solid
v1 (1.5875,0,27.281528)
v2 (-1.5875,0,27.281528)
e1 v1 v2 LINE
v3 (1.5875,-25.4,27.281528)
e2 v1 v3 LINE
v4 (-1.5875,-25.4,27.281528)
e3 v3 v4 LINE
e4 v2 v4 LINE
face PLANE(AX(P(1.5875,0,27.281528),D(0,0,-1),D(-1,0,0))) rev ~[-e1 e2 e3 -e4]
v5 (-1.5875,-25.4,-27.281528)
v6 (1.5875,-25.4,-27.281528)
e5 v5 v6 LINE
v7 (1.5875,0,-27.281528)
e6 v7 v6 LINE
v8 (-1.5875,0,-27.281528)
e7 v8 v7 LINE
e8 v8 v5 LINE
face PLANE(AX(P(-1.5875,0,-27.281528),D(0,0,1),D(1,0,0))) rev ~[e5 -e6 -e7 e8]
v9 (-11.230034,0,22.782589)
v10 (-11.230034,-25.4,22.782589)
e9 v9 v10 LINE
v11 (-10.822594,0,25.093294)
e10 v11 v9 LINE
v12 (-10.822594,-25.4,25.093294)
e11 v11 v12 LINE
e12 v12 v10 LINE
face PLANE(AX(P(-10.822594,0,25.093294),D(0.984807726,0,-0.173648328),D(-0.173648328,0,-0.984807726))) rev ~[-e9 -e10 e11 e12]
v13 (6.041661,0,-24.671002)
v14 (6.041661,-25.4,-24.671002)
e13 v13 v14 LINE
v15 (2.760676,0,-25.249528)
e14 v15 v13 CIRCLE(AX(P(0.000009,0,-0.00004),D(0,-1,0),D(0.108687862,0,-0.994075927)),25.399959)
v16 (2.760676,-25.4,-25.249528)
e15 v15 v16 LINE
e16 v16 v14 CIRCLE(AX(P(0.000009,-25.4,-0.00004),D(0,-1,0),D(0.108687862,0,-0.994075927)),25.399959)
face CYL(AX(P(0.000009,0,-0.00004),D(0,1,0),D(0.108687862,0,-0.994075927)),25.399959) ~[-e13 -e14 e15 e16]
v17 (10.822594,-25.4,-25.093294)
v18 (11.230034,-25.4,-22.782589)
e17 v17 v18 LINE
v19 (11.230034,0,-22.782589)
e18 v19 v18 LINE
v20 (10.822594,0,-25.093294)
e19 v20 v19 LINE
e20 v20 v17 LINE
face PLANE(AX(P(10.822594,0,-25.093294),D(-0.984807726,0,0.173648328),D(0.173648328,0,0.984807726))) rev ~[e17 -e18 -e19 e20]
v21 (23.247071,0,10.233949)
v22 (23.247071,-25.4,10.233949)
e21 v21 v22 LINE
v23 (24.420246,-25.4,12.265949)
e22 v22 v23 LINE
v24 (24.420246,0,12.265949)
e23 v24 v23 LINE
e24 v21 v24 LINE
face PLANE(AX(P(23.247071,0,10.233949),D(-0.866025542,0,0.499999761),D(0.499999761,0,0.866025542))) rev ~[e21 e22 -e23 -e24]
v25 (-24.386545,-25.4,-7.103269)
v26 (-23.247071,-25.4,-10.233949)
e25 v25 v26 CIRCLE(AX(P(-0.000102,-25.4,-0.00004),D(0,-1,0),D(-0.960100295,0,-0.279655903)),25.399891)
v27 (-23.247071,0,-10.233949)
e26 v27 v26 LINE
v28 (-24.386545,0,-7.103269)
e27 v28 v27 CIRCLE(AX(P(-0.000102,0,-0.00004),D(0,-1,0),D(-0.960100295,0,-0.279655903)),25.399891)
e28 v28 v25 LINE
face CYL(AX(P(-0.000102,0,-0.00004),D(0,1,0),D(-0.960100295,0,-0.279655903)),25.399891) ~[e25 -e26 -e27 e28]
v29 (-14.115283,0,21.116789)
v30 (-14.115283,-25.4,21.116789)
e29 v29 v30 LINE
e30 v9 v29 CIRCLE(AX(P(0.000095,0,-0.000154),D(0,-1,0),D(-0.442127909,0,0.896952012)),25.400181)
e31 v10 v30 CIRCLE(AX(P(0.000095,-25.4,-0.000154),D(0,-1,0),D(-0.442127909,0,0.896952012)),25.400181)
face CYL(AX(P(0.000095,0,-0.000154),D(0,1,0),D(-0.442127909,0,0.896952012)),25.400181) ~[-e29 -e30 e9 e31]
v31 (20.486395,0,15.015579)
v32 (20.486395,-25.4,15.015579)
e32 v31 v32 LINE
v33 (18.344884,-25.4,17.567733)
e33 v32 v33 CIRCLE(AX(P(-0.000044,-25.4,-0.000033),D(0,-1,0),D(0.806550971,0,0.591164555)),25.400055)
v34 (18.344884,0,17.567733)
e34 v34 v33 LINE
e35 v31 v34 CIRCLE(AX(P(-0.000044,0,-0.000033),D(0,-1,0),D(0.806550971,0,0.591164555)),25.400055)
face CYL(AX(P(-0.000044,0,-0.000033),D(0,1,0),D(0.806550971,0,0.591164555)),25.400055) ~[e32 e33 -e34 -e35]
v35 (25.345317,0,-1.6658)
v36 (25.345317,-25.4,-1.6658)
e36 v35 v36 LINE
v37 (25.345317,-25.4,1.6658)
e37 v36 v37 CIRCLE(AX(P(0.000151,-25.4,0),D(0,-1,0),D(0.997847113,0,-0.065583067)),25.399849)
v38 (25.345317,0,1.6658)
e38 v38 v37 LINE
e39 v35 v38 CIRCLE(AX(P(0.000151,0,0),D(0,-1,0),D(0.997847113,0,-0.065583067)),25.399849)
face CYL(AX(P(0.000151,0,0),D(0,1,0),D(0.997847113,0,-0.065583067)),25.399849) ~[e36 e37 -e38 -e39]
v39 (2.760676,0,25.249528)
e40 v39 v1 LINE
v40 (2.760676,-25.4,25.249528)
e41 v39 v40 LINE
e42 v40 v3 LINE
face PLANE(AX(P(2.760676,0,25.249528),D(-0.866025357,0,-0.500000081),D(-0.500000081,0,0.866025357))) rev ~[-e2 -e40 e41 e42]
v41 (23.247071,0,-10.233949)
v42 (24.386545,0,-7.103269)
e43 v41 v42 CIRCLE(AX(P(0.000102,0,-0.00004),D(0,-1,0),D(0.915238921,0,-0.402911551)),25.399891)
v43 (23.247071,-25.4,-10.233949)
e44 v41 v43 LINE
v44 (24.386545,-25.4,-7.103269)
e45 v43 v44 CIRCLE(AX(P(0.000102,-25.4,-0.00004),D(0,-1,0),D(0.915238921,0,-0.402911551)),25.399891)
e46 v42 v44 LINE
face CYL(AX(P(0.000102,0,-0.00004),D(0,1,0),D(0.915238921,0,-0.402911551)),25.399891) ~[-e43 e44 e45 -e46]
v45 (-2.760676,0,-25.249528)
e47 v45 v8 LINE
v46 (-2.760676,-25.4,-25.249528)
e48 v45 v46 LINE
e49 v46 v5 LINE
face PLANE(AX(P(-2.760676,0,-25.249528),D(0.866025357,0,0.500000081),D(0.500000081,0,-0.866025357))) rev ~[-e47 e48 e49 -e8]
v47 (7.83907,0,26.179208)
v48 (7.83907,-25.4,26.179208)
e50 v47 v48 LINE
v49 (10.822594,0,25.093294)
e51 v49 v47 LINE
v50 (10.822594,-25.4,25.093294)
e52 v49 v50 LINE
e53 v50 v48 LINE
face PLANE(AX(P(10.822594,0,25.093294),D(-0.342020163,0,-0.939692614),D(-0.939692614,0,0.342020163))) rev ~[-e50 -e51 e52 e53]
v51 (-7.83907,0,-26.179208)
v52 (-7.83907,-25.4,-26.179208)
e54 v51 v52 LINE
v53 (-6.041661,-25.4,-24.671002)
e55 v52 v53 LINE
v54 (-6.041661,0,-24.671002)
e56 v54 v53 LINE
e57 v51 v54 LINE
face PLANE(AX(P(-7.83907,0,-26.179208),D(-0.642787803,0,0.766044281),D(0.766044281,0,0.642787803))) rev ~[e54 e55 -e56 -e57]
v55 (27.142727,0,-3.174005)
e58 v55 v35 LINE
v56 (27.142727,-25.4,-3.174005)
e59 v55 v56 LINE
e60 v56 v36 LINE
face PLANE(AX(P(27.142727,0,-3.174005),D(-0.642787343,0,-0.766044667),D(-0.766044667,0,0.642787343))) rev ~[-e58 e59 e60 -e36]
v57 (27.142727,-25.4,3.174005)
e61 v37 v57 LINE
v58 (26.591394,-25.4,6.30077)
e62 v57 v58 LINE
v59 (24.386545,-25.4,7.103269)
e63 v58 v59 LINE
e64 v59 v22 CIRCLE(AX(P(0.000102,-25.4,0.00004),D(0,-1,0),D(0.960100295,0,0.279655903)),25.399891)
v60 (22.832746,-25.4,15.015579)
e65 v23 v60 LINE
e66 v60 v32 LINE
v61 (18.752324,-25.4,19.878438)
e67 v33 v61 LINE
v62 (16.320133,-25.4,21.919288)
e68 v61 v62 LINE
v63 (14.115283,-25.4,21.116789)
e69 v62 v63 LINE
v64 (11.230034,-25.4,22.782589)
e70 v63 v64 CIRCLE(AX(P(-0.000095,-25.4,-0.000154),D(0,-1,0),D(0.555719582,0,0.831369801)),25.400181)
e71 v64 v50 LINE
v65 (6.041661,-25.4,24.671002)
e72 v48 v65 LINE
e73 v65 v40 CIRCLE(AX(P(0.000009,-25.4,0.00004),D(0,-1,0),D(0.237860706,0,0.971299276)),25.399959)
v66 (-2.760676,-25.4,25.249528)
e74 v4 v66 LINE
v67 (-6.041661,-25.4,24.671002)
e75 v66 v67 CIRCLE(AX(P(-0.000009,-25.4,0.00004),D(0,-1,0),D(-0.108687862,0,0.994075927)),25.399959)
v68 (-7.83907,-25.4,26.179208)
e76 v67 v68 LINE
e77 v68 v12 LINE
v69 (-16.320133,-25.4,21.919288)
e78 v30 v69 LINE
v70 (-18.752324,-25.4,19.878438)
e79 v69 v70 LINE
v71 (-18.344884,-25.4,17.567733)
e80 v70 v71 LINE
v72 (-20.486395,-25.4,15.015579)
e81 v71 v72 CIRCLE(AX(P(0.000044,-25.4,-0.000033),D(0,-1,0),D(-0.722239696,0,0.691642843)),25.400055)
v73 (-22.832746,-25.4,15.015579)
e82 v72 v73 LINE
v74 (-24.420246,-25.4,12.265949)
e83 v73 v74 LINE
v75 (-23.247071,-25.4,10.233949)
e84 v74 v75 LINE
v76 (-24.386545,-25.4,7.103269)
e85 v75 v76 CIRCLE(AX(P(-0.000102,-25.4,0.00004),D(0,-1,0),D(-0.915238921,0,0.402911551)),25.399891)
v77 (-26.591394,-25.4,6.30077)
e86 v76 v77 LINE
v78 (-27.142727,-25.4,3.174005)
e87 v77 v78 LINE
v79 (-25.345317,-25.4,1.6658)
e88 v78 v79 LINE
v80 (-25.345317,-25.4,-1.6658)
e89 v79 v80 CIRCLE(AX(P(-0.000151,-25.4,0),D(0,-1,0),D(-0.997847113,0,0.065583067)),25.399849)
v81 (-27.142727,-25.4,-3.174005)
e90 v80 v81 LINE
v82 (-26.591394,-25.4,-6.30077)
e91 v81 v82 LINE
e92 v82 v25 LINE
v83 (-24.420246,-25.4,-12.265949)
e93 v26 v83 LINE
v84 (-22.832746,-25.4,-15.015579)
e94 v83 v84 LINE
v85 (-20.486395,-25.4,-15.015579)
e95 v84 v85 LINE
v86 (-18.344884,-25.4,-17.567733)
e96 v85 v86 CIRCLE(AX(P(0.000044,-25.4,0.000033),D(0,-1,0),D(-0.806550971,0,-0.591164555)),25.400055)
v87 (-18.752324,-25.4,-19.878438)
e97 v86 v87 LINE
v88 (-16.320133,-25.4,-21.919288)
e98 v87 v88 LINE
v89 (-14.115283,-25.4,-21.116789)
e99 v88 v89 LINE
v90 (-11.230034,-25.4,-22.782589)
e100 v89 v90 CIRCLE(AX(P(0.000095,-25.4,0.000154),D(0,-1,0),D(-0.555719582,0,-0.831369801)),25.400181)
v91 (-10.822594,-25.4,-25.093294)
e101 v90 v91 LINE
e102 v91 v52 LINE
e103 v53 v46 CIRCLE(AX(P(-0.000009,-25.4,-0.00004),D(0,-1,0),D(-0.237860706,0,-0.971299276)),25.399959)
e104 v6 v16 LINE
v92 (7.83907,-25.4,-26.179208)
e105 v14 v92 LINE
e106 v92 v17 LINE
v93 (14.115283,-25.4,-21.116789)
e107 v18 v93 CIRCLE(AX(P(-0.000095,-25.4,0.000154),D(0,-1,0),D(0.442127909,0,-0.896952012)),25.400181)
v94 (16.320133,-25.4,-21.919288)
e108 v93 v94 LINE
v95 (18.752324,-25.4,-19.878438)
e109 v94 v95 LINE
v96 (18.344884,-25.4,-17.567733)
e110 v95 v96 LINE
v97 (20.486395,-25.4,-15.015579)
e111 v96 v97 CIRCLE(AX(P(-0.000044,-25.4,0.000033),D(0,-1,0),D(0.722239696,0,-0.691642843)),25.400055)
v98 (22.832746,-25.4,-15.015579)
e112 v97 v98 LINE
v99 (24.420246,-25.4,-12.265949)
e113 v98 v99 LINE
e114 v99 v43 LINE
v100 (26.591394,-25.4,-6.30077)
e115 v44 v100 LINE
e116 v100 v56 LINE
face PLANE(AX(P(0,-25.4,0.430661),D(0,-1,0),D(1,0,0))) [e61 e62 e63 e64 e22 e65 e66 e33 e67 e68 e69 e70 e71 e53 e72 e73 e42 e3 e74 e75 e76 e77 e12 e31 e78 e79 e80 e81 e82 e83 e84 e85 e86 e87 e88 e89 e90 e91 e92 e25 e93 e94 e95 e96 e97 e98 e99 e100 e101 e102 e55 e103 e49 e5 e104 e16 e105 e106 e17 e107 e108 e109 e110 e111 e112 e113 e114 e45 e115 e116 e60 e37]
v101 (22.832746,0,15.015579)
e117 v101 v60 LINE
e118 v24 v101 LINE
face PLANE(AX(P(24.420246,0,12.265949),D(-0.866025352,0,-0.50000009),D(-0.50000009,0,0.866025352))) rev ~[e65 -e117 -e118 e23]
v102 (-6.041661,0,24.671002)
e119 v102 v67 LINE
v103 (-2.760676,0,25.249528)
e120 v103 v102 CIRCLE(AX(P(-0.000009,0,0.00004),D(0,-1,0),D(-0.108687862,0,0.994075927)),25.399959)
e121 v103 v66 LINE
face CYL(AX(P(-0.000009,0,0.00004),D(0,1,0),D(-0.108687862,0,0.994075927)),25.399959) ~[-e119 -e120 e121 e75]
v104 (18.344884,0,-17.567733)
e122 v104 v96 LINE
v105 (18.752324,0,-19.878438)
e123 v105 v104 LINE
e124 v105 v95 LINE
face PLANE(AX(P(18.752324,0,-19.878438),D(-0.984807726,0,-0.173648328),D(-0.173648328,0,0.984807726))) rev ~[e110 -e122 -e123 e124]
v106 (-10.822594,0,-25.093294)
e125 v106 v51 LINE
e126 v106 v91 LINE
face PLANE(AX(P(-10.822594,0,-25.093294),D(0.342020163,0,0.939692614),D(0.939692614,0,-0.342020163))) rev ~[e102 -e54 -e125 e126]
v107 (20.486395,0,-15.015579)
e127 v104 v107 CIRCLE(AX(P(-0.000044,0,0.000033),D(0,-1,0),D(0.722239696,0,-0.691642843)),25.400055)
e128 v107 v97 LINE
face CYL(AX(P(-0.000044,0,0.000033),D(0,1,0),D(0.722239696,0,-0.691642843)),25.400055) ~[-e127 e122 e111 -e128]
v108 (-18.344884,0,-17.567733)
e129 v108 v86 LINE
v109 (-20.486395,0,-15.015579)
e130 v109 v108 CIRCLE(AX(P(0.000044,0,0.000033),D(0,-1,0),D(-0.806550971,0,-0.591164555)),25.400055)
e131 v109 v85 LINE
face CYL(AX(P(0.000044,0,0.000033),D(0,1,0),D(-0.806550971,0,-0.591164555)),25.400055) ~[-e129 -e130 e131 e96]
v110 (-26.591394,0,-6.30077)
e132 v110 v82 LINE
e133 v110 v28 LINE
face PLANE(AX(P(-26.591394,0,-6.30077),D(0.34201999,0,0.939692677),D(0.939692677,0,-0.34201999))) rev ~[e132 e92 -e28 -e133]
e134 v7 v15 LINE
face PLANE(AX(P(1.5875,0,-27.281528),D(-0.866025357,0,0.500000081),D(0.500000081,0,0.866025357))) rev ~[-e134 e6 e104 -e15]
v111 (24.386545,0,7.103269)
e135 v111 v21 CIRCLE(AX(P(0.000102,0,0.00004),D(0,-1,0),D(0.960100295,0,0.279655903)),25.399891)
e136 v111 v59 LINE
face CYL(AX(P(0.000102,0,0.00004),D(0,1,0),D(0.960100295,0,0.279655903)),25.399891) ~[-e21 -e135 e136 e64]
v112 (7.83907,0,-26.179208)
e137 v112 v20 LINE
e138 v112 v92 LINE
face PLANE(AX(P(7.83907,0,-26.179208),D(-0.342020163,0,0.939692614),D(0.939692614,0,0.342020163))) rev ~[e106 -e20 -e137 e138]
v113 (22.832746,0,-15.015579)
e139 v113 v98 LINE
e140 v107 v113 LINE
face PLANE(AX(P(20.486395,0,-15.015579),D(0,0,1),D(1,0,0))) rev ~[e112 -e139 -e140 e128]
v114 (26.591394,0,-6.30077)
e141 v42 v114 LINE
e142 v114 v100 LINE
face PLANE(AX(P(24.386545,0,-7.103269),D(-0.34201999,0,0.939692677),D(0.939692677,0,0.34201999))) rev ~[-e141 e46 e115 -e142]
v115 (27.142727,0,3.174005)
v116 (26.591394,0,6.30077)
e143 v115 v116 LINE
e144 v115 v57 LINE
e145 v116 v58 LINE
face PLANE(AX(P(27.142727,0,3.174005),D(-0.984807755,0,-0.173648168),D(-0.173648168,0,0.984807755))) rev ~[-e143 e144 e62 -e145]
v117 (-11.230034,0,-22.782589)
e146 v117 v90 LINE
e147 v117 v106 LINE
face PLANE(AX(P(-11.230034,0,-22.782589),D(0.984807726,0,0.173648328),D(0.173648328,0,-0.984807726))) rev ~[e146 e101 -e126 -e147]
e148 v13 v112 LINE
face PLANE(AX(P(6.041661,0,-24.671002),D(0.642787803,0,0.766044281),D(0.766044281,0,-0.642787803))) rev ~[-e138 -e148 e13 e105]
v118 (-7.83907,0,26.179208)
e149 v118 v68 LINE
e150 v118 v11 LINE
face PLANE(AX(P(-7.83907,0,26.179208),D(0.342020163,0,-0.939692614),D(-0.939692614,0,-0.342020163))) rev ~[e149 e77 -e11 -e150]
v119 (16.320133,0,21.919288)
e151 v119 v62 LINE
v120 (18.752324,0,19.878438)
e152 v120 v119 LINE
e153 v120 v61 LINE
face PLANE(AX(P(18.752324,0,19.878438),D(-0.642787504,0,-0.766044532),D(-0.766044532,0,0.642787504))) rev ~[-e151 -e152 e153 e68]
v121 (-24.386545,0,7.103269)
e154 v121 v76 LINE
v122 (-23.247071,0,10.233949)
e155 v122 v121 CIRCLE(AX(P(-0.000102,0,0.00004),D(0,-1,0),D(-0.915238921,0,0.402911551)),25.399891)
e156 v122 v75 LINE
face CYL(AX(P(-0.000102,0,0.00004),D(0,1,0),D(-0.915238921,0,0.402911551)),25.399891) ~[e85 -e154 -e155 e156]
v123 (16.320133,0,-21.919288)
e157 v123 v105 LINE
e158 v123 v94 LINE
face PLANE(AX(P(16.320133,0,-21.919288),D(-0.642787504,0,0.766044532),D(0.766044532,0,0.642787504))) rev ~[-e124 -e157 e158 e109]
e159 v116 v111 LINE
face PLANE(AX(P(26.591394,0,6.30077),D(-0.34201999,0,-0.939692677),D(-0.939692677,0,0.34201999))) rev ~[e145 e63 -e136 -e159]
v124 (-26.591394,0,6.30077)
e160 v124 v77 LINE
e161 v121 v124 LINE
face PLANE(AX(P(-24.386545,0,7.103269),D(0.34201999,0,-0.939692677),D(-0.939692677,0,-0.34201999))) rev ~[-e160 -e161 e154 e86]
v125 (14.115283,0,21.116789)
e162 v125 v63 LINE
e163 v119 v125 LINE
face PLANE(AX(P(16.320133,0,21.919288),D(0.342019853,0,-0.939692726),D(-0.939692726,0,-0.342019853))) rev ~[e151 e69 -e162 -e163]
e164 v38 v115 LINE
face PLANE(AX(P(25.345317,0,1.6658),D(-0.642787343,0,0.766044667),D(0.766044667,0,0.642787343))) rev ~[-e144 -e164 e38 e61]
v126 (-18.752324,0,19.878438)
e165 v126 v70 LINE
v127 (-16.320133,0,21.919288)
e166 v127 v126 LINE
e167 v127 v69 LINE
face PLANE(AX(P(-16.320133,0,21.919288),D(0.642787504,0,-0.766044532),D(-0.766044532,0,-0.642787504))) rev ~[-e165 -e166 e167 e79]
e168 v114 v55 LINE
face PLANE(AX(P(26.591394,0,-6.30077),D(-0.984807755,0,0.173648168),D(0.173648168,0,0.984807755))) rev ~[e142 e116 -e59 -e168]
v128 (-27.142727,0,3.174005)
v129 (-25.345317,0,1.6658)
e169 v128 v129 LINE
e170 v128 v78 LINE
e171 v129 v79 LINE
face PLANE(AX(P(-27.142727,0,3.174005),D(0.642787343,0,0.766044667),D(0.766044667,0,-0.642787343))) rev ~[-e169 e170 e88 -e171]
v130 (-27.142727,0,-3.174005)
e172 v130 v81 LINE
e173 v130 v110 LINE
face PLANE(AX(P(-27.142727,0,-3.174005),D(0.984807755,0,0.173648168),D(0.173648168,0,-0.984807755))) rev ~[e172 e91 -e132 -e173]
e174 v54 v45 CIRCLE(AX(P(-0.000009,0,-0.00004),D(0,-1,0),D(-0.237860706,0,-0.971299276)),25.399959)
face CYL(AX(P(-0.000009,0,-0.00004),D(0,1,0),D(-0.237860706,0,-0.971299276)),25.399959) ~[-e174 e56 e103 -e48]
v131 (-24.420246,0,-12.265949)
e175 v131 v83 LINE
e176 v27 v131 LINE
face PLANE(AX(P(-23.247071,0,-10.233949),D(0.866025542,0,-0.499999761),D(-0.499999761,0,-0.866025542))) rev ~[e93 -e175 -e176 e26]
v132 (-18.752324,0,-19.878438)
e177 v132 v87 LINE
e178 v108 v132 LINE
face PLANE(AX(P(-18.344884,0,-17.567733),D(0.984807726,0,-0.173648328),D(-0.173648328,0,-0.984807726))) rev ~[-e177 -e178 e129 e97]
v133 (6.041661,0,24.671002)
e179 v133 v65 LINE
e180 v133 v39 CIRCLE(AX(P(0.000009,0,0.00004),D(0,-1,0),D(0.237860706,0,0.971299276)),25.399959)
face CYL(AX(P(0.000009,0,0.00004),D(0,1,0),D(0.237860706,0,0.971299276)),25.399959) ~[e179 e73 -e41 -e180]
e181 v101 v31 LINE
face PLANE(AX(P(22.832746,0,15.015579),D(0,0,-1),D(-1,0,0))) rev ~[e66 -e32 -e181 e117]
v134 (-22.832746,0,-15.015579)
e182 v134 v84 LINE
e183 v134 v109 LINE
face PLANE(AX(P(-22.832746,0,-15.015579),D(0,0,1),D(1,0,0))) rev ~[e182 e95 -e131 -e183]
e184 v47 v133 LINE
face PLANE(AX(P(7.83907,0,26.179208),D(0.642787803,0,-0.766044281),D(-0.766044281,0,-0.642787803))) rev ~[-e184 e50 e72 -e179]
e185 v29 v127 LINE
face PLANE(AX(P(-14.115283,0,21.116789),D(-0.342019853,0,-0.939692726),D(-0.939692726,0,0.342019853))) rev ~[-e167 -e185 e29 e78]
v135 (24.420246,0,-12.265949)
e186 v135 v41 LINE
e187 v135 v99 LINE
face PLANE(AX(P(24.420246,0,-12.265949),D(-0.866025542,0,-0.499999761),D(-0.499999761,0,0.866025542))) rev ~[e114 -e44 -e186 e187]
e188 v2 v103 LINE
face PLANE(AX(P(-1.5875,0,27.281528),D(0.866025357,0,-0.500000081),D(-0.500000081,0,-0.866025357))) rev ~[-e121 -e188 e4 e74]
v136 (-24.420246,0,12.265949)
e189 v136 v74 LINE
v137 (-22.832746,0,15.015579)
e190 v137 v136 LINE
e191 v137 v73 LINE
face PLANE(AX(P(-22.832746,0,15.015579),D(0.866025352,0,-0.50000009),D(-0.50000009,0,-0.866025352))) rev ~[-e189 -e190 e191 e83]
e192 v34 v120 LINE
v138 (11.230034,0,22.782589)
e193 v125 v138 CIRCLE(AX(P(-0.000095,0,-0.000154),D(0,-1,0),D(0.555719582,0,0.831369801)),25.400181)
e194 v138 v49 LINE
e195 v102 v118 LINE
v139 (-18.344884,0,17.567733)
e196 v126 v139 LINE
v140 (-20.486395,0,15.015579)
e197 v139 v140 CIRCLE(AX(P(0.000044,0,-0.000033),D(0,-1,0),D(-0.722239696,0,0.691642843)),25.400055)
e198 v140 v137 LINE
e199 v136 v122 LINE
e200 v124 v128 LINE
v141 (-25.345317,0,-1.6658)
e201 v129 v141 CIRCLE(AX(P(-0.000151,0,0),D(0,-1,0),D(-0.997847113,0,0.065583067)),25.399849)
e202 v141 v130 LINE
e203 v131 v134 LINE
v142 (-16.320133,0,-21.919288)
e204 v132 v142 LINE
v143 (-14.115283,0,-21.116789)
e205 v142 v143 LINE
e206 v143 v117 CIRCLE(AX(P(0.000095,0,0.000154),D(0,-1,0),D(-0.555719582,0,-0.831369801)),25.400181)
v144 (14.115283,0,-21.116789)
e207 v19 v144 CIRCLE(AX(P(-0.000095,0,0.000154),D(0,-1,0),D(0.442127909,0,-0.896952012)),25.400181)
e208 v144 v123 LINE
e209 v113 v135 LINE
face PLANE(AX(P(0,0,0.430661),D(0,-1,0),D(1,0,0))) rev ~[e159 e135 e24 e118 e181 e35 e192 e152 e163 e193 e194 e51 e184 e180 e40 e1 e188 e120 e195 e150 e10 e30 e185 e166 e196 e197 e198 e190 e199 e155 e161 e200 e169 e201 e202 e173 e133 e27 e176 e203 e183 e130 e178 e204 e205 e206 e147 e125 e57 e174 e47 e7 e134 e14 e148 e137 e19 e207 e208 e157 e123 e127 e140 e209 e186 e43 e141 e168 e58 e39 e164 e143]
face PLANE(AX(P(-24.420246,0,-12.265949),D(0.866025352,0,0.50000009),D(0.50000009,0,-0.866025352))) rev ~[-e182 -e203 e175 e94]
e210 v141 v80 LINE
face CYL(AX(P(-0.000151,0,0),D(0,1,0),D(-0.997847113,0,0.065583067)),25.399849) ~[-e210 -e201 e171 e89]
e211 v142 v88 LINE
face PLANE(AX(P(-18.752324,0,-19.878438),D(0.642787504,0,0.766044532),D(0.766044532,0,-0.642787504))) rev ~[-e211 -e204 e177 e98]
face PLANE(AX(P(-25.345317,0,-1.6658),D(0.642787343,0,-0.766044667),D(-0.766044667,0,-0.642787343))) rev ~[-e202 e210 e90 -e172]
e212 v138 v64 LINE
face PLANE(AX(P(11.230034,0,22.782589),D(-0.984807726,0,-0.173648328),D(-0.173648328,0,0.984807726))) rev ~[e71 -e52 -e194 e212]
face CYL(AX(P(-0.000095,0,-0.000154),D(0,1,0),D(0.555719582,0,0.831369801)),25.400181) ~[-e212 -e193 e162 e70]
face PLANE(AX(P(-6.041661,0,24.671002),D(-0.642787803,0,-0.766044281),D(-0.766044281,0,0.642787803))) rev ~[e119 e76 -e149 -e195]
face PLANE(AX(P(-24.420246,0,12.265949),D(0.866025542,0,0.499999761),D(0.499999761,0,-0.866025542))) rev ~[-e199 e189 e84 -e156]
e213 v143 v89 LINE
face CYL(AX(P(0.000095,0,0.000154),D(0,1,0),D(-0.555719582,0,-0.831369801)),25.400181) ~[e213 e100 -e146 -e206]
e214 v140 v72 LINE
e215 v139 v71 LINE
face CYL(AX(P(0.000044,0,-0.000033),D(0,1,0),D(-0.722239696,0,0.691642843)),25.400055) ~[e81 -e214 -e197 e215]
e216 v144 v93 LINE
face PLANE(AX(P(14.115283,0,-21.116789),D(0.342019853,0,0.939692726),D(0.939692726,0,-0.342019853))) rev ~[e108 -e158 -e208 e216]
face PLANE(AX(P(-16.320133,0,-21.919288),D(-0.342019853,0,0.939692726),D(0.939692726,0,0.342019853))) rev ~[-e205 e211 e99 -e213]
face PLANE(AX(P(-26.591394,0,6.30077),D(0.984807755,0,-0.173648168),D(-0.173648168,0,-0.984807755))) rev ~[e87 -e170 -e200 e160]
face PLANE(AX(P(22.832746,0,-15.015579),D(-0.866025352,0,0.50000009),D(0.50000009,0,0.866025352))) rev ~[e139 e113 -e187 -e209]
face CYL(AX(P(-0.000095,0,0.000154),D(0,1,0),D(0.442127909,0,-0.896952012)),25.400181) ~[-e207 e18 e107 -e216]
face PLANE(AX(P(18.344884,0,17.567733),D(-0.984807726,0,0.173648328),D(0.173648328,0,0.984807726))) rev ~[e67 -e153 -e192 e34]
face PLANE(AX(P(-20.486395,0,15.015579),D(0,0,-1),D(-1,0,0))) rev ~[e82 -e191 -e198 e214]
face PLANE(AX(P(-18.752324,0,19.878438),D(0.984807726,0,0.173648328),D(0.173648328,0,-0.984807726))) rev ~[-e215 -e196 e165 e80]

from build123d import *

# Parameters (mm, degrees)
F1_DEPTH = 25.4


with BuildPart() as f1:
    # F0 (on Front) → F1 (new body)
    with BuildSketch(Plane.XZ):
        with BuildLine():
            Line((-1.5875, 27.281528), (-2.760676, 25.249528))
            ThreePointArc((-2.760676, 25.249528), (-4.410664, 25.014117), (-6.041661, 24.671002))
            ThreePointArc((-6.041661, 24.671002), (-8.687312, 23.868193), (-11.230034, 22.782589))
            ThreePointArc((-11.230034, 22.782589), (-12.7, 21.997045), (-14.115283, 21.116789))
            ThreePointArc((-14.115283, 21.116789), (-16.326805, 19.457529), (-18.344884, 17.567733))
            ThreePointArc((-18.344884, 17.567733), (-19.457529, 16.326805), (-20.486395, 15.015579))
            ThreePointArc((-20.486395, 15.015579), (-21.997045, 12.7), (-23.247071, 10.233949))
            ThreePointArc((-23.247071, 10.233949), (-23.868193, 8.687312), (-24.386545, 7.103269))
            ThreePointArc((-24.386545, 7.103269), (-25.014117, 4.410664), (-25.345317, 1.6658))
            ThreePointArc((-25.345317, 1.6658), (-25.4, 0), (-25.345317, -1.6658))
            ThreePointArc((-25.345317, -1.6658), (-25.014117, -4.410664), (-24.386545, -7.103269))
            ThreePointArc((-24.386545, -7.103269), (-23.868193, -8.687312), (-23.247071, -10.233949))
            ThreePointArc((-23.247071, -10.233949), (-21.997045, -12.7), (-20.486395, -15.015579))
            ThreePointArc((-20.486395, -15.015579), (-19.457529, -16.326805), (-18.344884, -17.567733))
            ThreePointArc((-18.344884, -17.567733), (-16.326805, -19.457529), (-14.115283, -21.116789))
            ThreePointArc((-14.115283, -21.116789), (-12.7, -21.997045), (-11.230034, -22.782589))
            ThreePointArc((-11.230034, -22.782589), (-8.687312, -23.868193), (-6.041661, -24.671002))
            ThreePointArc((-6.041661, -24.671002), (-4.410664, -25.014117), (-2.760676, -25.249528))
            ThreePointArc((-2.760676, -25.249528), (0, -25.4), (2.760676, -25.249528))
            ThreePointArc((2.760676, -25.249528), (4.410664, -25.014117), (6.041661, -24.671002))
            ThreePointArc((6.041661, -24.671002), (8.687312, -23.868193), (11.230034, -22.782589))
            ThreePointArc((11.230034, -22.782589), (12.7, -21.997045), (14.115283, -21.116789))
            ThreePointArc((14.115283, -21.116789), (16.326805, -19.457529), (18.344884, -17.567733))
            ThreePointArc((18.344884, -17.567733), (19.457529, -16.326805), (20.486395, -15.015579))
            ThreePointArc((20.486395, -15.015579), (21.997045, -12.7), (23.247071, -10.233949))
            ThreePointArc((23.247071, -10.233949), (23.868193, -8.687312), (24.386545, -7.103269))
            ThreePointArc((24.386545, -7.103269), (25.014117, -4.410664), (25.345317, -1.6658))
            ThreePointArc((25.345317, -1.6658), (25.4, 0), (25.345317, 1.6658))
            ThreePointArc((25.345317, 1.6658), (25.014117, 4.410664), (24.386545, 7.103269))
            ThreePointArc((24.386545, 7.103269), (23.868193, 8.687312), (23.247071, 10.233949))
            ThreePointArc((23.247071, 10.233949), (21.997045, 12.7), (20.486395, 15.015579))
            ThreePointArc((20.486395, 15.015579), (19.457529, 16.326805), (18.344884, 17.567733))
            ThreePointArc((18.344884, 17.567733), (16.326805, 19.457529), (14.115283, 21.116789))
            ThreePointArc((14.115283, 21.116789), (12.7, 21.997045), (11.230034, 22.782589))
            ThreePointArc((11.230034, 22.782589), (8.687312, 23.868193), (6.041661, 24.671002))
            ThreePointArc((6.041661, 24.671002), (4.410664, 25.014117), (2.760676, 25.249528))
            Line((2.760676, 25.249528), (1.5875, 27.281528))
            Line((1.5875, 27.281528), (-1.5875, 27.281528))
        make_face()
        with BuildLine():
            ThreePointArc((-11.230034, 22.782589), (-8.687312, 23.868193), (-6.041661, 24.671002))
            Line((-6.041661, 24.671002), (-7.83907, 26.179208))
            Line((-7.83907, 26.179208), (-10.822594, 25.093294))
            Line((-10.822594, 25.093294), (-11.230034, 22.782589))
        make_face()
        with BuildLine():
            ThreePointArc((-18.344884, 17.567733), (-16.326805, 19.457529), (-14.115283, 21.116789))
            Line((-14.115283, 21.116789), (-16.320133, 21.919288))
            Line((-16.320133, 21.919288), (-18.752324, 19.878438))
            Line((-18.752324, 19.878438), (-18.344884, 17.567733))
        make_face()
        with BuildLine():
            Line((7.83907, 26.179208), (6.041661, 24.671002))
            ThreePointArc((6.041661, 24.671002), (8.687312, 23.868193), (11.230034, 22.782589))
            Line((11.230034, 22.782589), (10.822594, 25.093294))
            Line((10.822594, 25.093294), (7.83907, 26.179208))
        make_face()
        with BuildLine():
            ThreePointArc((-23.247071, 10.233949), (-21.997045, 12.7), (-20.486395, 15.015579))
            Line((-20.486395, 15.015579), (-22.832746, 15.015579))
            Line((-22.832746, 15.015579), (-24.420246, 12.265949))
            Line((-24.420246, 12.265949), (-23.247071, 10.233949))
        make_face()
        with BuildLine():
            Line((16.320133, 21.919288), (14.115283, 21.116789))
            ThreePointArc((14.115283, 21.116789), (16.326805, 19.457529), (18.344884, 17.567733))
            Line((18.344884, 17.567733), (18.752324, 19.878438))
            Line((18.752324, 19.878438), (16.320133, 21.919288))
        make_face()
        with BuildLine():
            ThreePointArc((-25.345317, 1.6658), (-25.014117, 4.410664), (-24.386545, 7.103269))
            Line((-24.386545, 7.103269), (-26.591394, 6.30077))
            Line((-26.591394, 6.30077), (-27.142727, 3.174005))
            Line((-27.142727, 3.174005), (-25.345317, 1.6658))
        make_face()
        with BuildLine():
            Line((22.832746, 15.015579), (20.486395, 15.015579))
            ThreePointArc((20.486395, 15.015579), (21.997045, 12.7), (23.247071, 10.233949))
            Line((23.247071, 10.233949), (24.420246, 12.265949))
            Line((24.420246, 12.265949), (22.832746, 15.015579))
        make_face()
        with BuildLine():
            ThreePointArc((-24.386545, -7.103269), (-25.014117, -4.410664), (-25.345317, -1.6658))
            Line((-25.345317, -1.6658), (-27.142727, -3.174005))
            Line((-27.142727, -3.174005), (-26.591394, -6.30077))
            Line((-26.591394, -6.30077), (-24.386545, -7.103269))
        make_face()
        with BuildLine():
            Line((26.591394, 6.30077), (24.386545, 7.103269))
            ThreePointArc((24.386545, 7.103269), (25.014117, 4.410664), (25.345317, 1.6658))
            Line((25.345317, 1.6658), (27.142727, 3.174005))
            Line((27.142727, 3.174005), (26.591394, 6.30077))
        make_face()
        with BuildLine():
            ThreePointArc((-20.486395, -15.015579), (-21.997045, -12.7), (-23.247071, -10.233949))
            Line((-23.247071, -10.233949), (-24.420246, -12.265949))
            Line((-24.420246, -12.265949), (-22.832746, -15.015579))
            Line((-22.832746, -15.015579), (-20.486395, -15.015579))
        make_face()
        with BuildLine():
            Line((27.142727, -3.174005), (25.345317, -1.6658))
            ThreePointArc((25.345317, -1.6658), (25.014117, -4.410664), (24.386545, -7.103269))
            Line((24.386545, -7.103269), (26.591394, -6.30077))
            Line((26.591394, -6.30077), (27.142727, -3.174005))
        make_face()
        with BuildLine():
            ThreePointArc((-14.115283, -21.116789), (-16.326805, -19.457529), (-18.344884, -17.567733))
            Line((-18.344884, -17.567733), (-18.752324, -19.878438))
            Line((-18.752324, -19.878438), (-16.320133, -21.919288))
            Line((-16.320133, -21.919288), (-14.115283, -21.116789))
        make_face()
        with BuildLine():
            Line((24.420246, -12.265949), (23.247071, -10.233949))
            ThreePointArc((23.247071, -10.233949), (21.997045, -12.7), (20.486395, -15.015579))
            Line((20.486395, -15.015579), (22.832746, -15.015579))
            Line((22.832746, -15.015579), (24.420246, -12.265949))
        make_face()
        with BuildLine():
            ThreePointArc((-6.041661, -24.671002), (-8.687312, -23.868193), (-11.230034, -22.782589))
            Line((-11.230034, -22.782589), (-10.822594, -25.093294))
            Line((-10.822594, -25.093294), (-7.83907, -26.179208))
            Line((-7.83907, -26.179208), (-6.041661, -24.671002))
        make_face()
        with BuildLine():
            Line((18.752324, -19.878438), (18.344884, -17.567733))
            ThreePointArc((18.344884, -17.567733), (16.326805, -19.457529), (14.115283, -21.116789))
            Line((14.115283, -21.116789), (16.320133, -21.919288))
            Line((16.320133, -21.919288), (18.752324, -19.878438))
        make_face()
        with BuildLine():
            ThreePointArc((2.760676, -25.249528), (0, -25.4), (-2.760676, -25.249528))
            Line((-2.760676, -25.249528), (-1.5875, -27.281528))
            Line((-1.5875, -27.281528), (1.5875, -27.281528))
            Line((1.5875, -27.281528), (2.760676, -25.249528))
        make_face()
        with BuildLine():
            Line((10.822594, -25.093294), (11.230034, -22.782589))
            ThreePointArc((11.230034, -22.782589), (8.687312, -23.868193), (6.041661, -24.671002))
            Line((6.041661, -24.671002), (7.83907, -26.179208))
            Line((7.83907, -26.179208), (10.822594, -25.093294))
        make_face()
    extrude(amount=F1_DEPTH)


solid = f1.part
